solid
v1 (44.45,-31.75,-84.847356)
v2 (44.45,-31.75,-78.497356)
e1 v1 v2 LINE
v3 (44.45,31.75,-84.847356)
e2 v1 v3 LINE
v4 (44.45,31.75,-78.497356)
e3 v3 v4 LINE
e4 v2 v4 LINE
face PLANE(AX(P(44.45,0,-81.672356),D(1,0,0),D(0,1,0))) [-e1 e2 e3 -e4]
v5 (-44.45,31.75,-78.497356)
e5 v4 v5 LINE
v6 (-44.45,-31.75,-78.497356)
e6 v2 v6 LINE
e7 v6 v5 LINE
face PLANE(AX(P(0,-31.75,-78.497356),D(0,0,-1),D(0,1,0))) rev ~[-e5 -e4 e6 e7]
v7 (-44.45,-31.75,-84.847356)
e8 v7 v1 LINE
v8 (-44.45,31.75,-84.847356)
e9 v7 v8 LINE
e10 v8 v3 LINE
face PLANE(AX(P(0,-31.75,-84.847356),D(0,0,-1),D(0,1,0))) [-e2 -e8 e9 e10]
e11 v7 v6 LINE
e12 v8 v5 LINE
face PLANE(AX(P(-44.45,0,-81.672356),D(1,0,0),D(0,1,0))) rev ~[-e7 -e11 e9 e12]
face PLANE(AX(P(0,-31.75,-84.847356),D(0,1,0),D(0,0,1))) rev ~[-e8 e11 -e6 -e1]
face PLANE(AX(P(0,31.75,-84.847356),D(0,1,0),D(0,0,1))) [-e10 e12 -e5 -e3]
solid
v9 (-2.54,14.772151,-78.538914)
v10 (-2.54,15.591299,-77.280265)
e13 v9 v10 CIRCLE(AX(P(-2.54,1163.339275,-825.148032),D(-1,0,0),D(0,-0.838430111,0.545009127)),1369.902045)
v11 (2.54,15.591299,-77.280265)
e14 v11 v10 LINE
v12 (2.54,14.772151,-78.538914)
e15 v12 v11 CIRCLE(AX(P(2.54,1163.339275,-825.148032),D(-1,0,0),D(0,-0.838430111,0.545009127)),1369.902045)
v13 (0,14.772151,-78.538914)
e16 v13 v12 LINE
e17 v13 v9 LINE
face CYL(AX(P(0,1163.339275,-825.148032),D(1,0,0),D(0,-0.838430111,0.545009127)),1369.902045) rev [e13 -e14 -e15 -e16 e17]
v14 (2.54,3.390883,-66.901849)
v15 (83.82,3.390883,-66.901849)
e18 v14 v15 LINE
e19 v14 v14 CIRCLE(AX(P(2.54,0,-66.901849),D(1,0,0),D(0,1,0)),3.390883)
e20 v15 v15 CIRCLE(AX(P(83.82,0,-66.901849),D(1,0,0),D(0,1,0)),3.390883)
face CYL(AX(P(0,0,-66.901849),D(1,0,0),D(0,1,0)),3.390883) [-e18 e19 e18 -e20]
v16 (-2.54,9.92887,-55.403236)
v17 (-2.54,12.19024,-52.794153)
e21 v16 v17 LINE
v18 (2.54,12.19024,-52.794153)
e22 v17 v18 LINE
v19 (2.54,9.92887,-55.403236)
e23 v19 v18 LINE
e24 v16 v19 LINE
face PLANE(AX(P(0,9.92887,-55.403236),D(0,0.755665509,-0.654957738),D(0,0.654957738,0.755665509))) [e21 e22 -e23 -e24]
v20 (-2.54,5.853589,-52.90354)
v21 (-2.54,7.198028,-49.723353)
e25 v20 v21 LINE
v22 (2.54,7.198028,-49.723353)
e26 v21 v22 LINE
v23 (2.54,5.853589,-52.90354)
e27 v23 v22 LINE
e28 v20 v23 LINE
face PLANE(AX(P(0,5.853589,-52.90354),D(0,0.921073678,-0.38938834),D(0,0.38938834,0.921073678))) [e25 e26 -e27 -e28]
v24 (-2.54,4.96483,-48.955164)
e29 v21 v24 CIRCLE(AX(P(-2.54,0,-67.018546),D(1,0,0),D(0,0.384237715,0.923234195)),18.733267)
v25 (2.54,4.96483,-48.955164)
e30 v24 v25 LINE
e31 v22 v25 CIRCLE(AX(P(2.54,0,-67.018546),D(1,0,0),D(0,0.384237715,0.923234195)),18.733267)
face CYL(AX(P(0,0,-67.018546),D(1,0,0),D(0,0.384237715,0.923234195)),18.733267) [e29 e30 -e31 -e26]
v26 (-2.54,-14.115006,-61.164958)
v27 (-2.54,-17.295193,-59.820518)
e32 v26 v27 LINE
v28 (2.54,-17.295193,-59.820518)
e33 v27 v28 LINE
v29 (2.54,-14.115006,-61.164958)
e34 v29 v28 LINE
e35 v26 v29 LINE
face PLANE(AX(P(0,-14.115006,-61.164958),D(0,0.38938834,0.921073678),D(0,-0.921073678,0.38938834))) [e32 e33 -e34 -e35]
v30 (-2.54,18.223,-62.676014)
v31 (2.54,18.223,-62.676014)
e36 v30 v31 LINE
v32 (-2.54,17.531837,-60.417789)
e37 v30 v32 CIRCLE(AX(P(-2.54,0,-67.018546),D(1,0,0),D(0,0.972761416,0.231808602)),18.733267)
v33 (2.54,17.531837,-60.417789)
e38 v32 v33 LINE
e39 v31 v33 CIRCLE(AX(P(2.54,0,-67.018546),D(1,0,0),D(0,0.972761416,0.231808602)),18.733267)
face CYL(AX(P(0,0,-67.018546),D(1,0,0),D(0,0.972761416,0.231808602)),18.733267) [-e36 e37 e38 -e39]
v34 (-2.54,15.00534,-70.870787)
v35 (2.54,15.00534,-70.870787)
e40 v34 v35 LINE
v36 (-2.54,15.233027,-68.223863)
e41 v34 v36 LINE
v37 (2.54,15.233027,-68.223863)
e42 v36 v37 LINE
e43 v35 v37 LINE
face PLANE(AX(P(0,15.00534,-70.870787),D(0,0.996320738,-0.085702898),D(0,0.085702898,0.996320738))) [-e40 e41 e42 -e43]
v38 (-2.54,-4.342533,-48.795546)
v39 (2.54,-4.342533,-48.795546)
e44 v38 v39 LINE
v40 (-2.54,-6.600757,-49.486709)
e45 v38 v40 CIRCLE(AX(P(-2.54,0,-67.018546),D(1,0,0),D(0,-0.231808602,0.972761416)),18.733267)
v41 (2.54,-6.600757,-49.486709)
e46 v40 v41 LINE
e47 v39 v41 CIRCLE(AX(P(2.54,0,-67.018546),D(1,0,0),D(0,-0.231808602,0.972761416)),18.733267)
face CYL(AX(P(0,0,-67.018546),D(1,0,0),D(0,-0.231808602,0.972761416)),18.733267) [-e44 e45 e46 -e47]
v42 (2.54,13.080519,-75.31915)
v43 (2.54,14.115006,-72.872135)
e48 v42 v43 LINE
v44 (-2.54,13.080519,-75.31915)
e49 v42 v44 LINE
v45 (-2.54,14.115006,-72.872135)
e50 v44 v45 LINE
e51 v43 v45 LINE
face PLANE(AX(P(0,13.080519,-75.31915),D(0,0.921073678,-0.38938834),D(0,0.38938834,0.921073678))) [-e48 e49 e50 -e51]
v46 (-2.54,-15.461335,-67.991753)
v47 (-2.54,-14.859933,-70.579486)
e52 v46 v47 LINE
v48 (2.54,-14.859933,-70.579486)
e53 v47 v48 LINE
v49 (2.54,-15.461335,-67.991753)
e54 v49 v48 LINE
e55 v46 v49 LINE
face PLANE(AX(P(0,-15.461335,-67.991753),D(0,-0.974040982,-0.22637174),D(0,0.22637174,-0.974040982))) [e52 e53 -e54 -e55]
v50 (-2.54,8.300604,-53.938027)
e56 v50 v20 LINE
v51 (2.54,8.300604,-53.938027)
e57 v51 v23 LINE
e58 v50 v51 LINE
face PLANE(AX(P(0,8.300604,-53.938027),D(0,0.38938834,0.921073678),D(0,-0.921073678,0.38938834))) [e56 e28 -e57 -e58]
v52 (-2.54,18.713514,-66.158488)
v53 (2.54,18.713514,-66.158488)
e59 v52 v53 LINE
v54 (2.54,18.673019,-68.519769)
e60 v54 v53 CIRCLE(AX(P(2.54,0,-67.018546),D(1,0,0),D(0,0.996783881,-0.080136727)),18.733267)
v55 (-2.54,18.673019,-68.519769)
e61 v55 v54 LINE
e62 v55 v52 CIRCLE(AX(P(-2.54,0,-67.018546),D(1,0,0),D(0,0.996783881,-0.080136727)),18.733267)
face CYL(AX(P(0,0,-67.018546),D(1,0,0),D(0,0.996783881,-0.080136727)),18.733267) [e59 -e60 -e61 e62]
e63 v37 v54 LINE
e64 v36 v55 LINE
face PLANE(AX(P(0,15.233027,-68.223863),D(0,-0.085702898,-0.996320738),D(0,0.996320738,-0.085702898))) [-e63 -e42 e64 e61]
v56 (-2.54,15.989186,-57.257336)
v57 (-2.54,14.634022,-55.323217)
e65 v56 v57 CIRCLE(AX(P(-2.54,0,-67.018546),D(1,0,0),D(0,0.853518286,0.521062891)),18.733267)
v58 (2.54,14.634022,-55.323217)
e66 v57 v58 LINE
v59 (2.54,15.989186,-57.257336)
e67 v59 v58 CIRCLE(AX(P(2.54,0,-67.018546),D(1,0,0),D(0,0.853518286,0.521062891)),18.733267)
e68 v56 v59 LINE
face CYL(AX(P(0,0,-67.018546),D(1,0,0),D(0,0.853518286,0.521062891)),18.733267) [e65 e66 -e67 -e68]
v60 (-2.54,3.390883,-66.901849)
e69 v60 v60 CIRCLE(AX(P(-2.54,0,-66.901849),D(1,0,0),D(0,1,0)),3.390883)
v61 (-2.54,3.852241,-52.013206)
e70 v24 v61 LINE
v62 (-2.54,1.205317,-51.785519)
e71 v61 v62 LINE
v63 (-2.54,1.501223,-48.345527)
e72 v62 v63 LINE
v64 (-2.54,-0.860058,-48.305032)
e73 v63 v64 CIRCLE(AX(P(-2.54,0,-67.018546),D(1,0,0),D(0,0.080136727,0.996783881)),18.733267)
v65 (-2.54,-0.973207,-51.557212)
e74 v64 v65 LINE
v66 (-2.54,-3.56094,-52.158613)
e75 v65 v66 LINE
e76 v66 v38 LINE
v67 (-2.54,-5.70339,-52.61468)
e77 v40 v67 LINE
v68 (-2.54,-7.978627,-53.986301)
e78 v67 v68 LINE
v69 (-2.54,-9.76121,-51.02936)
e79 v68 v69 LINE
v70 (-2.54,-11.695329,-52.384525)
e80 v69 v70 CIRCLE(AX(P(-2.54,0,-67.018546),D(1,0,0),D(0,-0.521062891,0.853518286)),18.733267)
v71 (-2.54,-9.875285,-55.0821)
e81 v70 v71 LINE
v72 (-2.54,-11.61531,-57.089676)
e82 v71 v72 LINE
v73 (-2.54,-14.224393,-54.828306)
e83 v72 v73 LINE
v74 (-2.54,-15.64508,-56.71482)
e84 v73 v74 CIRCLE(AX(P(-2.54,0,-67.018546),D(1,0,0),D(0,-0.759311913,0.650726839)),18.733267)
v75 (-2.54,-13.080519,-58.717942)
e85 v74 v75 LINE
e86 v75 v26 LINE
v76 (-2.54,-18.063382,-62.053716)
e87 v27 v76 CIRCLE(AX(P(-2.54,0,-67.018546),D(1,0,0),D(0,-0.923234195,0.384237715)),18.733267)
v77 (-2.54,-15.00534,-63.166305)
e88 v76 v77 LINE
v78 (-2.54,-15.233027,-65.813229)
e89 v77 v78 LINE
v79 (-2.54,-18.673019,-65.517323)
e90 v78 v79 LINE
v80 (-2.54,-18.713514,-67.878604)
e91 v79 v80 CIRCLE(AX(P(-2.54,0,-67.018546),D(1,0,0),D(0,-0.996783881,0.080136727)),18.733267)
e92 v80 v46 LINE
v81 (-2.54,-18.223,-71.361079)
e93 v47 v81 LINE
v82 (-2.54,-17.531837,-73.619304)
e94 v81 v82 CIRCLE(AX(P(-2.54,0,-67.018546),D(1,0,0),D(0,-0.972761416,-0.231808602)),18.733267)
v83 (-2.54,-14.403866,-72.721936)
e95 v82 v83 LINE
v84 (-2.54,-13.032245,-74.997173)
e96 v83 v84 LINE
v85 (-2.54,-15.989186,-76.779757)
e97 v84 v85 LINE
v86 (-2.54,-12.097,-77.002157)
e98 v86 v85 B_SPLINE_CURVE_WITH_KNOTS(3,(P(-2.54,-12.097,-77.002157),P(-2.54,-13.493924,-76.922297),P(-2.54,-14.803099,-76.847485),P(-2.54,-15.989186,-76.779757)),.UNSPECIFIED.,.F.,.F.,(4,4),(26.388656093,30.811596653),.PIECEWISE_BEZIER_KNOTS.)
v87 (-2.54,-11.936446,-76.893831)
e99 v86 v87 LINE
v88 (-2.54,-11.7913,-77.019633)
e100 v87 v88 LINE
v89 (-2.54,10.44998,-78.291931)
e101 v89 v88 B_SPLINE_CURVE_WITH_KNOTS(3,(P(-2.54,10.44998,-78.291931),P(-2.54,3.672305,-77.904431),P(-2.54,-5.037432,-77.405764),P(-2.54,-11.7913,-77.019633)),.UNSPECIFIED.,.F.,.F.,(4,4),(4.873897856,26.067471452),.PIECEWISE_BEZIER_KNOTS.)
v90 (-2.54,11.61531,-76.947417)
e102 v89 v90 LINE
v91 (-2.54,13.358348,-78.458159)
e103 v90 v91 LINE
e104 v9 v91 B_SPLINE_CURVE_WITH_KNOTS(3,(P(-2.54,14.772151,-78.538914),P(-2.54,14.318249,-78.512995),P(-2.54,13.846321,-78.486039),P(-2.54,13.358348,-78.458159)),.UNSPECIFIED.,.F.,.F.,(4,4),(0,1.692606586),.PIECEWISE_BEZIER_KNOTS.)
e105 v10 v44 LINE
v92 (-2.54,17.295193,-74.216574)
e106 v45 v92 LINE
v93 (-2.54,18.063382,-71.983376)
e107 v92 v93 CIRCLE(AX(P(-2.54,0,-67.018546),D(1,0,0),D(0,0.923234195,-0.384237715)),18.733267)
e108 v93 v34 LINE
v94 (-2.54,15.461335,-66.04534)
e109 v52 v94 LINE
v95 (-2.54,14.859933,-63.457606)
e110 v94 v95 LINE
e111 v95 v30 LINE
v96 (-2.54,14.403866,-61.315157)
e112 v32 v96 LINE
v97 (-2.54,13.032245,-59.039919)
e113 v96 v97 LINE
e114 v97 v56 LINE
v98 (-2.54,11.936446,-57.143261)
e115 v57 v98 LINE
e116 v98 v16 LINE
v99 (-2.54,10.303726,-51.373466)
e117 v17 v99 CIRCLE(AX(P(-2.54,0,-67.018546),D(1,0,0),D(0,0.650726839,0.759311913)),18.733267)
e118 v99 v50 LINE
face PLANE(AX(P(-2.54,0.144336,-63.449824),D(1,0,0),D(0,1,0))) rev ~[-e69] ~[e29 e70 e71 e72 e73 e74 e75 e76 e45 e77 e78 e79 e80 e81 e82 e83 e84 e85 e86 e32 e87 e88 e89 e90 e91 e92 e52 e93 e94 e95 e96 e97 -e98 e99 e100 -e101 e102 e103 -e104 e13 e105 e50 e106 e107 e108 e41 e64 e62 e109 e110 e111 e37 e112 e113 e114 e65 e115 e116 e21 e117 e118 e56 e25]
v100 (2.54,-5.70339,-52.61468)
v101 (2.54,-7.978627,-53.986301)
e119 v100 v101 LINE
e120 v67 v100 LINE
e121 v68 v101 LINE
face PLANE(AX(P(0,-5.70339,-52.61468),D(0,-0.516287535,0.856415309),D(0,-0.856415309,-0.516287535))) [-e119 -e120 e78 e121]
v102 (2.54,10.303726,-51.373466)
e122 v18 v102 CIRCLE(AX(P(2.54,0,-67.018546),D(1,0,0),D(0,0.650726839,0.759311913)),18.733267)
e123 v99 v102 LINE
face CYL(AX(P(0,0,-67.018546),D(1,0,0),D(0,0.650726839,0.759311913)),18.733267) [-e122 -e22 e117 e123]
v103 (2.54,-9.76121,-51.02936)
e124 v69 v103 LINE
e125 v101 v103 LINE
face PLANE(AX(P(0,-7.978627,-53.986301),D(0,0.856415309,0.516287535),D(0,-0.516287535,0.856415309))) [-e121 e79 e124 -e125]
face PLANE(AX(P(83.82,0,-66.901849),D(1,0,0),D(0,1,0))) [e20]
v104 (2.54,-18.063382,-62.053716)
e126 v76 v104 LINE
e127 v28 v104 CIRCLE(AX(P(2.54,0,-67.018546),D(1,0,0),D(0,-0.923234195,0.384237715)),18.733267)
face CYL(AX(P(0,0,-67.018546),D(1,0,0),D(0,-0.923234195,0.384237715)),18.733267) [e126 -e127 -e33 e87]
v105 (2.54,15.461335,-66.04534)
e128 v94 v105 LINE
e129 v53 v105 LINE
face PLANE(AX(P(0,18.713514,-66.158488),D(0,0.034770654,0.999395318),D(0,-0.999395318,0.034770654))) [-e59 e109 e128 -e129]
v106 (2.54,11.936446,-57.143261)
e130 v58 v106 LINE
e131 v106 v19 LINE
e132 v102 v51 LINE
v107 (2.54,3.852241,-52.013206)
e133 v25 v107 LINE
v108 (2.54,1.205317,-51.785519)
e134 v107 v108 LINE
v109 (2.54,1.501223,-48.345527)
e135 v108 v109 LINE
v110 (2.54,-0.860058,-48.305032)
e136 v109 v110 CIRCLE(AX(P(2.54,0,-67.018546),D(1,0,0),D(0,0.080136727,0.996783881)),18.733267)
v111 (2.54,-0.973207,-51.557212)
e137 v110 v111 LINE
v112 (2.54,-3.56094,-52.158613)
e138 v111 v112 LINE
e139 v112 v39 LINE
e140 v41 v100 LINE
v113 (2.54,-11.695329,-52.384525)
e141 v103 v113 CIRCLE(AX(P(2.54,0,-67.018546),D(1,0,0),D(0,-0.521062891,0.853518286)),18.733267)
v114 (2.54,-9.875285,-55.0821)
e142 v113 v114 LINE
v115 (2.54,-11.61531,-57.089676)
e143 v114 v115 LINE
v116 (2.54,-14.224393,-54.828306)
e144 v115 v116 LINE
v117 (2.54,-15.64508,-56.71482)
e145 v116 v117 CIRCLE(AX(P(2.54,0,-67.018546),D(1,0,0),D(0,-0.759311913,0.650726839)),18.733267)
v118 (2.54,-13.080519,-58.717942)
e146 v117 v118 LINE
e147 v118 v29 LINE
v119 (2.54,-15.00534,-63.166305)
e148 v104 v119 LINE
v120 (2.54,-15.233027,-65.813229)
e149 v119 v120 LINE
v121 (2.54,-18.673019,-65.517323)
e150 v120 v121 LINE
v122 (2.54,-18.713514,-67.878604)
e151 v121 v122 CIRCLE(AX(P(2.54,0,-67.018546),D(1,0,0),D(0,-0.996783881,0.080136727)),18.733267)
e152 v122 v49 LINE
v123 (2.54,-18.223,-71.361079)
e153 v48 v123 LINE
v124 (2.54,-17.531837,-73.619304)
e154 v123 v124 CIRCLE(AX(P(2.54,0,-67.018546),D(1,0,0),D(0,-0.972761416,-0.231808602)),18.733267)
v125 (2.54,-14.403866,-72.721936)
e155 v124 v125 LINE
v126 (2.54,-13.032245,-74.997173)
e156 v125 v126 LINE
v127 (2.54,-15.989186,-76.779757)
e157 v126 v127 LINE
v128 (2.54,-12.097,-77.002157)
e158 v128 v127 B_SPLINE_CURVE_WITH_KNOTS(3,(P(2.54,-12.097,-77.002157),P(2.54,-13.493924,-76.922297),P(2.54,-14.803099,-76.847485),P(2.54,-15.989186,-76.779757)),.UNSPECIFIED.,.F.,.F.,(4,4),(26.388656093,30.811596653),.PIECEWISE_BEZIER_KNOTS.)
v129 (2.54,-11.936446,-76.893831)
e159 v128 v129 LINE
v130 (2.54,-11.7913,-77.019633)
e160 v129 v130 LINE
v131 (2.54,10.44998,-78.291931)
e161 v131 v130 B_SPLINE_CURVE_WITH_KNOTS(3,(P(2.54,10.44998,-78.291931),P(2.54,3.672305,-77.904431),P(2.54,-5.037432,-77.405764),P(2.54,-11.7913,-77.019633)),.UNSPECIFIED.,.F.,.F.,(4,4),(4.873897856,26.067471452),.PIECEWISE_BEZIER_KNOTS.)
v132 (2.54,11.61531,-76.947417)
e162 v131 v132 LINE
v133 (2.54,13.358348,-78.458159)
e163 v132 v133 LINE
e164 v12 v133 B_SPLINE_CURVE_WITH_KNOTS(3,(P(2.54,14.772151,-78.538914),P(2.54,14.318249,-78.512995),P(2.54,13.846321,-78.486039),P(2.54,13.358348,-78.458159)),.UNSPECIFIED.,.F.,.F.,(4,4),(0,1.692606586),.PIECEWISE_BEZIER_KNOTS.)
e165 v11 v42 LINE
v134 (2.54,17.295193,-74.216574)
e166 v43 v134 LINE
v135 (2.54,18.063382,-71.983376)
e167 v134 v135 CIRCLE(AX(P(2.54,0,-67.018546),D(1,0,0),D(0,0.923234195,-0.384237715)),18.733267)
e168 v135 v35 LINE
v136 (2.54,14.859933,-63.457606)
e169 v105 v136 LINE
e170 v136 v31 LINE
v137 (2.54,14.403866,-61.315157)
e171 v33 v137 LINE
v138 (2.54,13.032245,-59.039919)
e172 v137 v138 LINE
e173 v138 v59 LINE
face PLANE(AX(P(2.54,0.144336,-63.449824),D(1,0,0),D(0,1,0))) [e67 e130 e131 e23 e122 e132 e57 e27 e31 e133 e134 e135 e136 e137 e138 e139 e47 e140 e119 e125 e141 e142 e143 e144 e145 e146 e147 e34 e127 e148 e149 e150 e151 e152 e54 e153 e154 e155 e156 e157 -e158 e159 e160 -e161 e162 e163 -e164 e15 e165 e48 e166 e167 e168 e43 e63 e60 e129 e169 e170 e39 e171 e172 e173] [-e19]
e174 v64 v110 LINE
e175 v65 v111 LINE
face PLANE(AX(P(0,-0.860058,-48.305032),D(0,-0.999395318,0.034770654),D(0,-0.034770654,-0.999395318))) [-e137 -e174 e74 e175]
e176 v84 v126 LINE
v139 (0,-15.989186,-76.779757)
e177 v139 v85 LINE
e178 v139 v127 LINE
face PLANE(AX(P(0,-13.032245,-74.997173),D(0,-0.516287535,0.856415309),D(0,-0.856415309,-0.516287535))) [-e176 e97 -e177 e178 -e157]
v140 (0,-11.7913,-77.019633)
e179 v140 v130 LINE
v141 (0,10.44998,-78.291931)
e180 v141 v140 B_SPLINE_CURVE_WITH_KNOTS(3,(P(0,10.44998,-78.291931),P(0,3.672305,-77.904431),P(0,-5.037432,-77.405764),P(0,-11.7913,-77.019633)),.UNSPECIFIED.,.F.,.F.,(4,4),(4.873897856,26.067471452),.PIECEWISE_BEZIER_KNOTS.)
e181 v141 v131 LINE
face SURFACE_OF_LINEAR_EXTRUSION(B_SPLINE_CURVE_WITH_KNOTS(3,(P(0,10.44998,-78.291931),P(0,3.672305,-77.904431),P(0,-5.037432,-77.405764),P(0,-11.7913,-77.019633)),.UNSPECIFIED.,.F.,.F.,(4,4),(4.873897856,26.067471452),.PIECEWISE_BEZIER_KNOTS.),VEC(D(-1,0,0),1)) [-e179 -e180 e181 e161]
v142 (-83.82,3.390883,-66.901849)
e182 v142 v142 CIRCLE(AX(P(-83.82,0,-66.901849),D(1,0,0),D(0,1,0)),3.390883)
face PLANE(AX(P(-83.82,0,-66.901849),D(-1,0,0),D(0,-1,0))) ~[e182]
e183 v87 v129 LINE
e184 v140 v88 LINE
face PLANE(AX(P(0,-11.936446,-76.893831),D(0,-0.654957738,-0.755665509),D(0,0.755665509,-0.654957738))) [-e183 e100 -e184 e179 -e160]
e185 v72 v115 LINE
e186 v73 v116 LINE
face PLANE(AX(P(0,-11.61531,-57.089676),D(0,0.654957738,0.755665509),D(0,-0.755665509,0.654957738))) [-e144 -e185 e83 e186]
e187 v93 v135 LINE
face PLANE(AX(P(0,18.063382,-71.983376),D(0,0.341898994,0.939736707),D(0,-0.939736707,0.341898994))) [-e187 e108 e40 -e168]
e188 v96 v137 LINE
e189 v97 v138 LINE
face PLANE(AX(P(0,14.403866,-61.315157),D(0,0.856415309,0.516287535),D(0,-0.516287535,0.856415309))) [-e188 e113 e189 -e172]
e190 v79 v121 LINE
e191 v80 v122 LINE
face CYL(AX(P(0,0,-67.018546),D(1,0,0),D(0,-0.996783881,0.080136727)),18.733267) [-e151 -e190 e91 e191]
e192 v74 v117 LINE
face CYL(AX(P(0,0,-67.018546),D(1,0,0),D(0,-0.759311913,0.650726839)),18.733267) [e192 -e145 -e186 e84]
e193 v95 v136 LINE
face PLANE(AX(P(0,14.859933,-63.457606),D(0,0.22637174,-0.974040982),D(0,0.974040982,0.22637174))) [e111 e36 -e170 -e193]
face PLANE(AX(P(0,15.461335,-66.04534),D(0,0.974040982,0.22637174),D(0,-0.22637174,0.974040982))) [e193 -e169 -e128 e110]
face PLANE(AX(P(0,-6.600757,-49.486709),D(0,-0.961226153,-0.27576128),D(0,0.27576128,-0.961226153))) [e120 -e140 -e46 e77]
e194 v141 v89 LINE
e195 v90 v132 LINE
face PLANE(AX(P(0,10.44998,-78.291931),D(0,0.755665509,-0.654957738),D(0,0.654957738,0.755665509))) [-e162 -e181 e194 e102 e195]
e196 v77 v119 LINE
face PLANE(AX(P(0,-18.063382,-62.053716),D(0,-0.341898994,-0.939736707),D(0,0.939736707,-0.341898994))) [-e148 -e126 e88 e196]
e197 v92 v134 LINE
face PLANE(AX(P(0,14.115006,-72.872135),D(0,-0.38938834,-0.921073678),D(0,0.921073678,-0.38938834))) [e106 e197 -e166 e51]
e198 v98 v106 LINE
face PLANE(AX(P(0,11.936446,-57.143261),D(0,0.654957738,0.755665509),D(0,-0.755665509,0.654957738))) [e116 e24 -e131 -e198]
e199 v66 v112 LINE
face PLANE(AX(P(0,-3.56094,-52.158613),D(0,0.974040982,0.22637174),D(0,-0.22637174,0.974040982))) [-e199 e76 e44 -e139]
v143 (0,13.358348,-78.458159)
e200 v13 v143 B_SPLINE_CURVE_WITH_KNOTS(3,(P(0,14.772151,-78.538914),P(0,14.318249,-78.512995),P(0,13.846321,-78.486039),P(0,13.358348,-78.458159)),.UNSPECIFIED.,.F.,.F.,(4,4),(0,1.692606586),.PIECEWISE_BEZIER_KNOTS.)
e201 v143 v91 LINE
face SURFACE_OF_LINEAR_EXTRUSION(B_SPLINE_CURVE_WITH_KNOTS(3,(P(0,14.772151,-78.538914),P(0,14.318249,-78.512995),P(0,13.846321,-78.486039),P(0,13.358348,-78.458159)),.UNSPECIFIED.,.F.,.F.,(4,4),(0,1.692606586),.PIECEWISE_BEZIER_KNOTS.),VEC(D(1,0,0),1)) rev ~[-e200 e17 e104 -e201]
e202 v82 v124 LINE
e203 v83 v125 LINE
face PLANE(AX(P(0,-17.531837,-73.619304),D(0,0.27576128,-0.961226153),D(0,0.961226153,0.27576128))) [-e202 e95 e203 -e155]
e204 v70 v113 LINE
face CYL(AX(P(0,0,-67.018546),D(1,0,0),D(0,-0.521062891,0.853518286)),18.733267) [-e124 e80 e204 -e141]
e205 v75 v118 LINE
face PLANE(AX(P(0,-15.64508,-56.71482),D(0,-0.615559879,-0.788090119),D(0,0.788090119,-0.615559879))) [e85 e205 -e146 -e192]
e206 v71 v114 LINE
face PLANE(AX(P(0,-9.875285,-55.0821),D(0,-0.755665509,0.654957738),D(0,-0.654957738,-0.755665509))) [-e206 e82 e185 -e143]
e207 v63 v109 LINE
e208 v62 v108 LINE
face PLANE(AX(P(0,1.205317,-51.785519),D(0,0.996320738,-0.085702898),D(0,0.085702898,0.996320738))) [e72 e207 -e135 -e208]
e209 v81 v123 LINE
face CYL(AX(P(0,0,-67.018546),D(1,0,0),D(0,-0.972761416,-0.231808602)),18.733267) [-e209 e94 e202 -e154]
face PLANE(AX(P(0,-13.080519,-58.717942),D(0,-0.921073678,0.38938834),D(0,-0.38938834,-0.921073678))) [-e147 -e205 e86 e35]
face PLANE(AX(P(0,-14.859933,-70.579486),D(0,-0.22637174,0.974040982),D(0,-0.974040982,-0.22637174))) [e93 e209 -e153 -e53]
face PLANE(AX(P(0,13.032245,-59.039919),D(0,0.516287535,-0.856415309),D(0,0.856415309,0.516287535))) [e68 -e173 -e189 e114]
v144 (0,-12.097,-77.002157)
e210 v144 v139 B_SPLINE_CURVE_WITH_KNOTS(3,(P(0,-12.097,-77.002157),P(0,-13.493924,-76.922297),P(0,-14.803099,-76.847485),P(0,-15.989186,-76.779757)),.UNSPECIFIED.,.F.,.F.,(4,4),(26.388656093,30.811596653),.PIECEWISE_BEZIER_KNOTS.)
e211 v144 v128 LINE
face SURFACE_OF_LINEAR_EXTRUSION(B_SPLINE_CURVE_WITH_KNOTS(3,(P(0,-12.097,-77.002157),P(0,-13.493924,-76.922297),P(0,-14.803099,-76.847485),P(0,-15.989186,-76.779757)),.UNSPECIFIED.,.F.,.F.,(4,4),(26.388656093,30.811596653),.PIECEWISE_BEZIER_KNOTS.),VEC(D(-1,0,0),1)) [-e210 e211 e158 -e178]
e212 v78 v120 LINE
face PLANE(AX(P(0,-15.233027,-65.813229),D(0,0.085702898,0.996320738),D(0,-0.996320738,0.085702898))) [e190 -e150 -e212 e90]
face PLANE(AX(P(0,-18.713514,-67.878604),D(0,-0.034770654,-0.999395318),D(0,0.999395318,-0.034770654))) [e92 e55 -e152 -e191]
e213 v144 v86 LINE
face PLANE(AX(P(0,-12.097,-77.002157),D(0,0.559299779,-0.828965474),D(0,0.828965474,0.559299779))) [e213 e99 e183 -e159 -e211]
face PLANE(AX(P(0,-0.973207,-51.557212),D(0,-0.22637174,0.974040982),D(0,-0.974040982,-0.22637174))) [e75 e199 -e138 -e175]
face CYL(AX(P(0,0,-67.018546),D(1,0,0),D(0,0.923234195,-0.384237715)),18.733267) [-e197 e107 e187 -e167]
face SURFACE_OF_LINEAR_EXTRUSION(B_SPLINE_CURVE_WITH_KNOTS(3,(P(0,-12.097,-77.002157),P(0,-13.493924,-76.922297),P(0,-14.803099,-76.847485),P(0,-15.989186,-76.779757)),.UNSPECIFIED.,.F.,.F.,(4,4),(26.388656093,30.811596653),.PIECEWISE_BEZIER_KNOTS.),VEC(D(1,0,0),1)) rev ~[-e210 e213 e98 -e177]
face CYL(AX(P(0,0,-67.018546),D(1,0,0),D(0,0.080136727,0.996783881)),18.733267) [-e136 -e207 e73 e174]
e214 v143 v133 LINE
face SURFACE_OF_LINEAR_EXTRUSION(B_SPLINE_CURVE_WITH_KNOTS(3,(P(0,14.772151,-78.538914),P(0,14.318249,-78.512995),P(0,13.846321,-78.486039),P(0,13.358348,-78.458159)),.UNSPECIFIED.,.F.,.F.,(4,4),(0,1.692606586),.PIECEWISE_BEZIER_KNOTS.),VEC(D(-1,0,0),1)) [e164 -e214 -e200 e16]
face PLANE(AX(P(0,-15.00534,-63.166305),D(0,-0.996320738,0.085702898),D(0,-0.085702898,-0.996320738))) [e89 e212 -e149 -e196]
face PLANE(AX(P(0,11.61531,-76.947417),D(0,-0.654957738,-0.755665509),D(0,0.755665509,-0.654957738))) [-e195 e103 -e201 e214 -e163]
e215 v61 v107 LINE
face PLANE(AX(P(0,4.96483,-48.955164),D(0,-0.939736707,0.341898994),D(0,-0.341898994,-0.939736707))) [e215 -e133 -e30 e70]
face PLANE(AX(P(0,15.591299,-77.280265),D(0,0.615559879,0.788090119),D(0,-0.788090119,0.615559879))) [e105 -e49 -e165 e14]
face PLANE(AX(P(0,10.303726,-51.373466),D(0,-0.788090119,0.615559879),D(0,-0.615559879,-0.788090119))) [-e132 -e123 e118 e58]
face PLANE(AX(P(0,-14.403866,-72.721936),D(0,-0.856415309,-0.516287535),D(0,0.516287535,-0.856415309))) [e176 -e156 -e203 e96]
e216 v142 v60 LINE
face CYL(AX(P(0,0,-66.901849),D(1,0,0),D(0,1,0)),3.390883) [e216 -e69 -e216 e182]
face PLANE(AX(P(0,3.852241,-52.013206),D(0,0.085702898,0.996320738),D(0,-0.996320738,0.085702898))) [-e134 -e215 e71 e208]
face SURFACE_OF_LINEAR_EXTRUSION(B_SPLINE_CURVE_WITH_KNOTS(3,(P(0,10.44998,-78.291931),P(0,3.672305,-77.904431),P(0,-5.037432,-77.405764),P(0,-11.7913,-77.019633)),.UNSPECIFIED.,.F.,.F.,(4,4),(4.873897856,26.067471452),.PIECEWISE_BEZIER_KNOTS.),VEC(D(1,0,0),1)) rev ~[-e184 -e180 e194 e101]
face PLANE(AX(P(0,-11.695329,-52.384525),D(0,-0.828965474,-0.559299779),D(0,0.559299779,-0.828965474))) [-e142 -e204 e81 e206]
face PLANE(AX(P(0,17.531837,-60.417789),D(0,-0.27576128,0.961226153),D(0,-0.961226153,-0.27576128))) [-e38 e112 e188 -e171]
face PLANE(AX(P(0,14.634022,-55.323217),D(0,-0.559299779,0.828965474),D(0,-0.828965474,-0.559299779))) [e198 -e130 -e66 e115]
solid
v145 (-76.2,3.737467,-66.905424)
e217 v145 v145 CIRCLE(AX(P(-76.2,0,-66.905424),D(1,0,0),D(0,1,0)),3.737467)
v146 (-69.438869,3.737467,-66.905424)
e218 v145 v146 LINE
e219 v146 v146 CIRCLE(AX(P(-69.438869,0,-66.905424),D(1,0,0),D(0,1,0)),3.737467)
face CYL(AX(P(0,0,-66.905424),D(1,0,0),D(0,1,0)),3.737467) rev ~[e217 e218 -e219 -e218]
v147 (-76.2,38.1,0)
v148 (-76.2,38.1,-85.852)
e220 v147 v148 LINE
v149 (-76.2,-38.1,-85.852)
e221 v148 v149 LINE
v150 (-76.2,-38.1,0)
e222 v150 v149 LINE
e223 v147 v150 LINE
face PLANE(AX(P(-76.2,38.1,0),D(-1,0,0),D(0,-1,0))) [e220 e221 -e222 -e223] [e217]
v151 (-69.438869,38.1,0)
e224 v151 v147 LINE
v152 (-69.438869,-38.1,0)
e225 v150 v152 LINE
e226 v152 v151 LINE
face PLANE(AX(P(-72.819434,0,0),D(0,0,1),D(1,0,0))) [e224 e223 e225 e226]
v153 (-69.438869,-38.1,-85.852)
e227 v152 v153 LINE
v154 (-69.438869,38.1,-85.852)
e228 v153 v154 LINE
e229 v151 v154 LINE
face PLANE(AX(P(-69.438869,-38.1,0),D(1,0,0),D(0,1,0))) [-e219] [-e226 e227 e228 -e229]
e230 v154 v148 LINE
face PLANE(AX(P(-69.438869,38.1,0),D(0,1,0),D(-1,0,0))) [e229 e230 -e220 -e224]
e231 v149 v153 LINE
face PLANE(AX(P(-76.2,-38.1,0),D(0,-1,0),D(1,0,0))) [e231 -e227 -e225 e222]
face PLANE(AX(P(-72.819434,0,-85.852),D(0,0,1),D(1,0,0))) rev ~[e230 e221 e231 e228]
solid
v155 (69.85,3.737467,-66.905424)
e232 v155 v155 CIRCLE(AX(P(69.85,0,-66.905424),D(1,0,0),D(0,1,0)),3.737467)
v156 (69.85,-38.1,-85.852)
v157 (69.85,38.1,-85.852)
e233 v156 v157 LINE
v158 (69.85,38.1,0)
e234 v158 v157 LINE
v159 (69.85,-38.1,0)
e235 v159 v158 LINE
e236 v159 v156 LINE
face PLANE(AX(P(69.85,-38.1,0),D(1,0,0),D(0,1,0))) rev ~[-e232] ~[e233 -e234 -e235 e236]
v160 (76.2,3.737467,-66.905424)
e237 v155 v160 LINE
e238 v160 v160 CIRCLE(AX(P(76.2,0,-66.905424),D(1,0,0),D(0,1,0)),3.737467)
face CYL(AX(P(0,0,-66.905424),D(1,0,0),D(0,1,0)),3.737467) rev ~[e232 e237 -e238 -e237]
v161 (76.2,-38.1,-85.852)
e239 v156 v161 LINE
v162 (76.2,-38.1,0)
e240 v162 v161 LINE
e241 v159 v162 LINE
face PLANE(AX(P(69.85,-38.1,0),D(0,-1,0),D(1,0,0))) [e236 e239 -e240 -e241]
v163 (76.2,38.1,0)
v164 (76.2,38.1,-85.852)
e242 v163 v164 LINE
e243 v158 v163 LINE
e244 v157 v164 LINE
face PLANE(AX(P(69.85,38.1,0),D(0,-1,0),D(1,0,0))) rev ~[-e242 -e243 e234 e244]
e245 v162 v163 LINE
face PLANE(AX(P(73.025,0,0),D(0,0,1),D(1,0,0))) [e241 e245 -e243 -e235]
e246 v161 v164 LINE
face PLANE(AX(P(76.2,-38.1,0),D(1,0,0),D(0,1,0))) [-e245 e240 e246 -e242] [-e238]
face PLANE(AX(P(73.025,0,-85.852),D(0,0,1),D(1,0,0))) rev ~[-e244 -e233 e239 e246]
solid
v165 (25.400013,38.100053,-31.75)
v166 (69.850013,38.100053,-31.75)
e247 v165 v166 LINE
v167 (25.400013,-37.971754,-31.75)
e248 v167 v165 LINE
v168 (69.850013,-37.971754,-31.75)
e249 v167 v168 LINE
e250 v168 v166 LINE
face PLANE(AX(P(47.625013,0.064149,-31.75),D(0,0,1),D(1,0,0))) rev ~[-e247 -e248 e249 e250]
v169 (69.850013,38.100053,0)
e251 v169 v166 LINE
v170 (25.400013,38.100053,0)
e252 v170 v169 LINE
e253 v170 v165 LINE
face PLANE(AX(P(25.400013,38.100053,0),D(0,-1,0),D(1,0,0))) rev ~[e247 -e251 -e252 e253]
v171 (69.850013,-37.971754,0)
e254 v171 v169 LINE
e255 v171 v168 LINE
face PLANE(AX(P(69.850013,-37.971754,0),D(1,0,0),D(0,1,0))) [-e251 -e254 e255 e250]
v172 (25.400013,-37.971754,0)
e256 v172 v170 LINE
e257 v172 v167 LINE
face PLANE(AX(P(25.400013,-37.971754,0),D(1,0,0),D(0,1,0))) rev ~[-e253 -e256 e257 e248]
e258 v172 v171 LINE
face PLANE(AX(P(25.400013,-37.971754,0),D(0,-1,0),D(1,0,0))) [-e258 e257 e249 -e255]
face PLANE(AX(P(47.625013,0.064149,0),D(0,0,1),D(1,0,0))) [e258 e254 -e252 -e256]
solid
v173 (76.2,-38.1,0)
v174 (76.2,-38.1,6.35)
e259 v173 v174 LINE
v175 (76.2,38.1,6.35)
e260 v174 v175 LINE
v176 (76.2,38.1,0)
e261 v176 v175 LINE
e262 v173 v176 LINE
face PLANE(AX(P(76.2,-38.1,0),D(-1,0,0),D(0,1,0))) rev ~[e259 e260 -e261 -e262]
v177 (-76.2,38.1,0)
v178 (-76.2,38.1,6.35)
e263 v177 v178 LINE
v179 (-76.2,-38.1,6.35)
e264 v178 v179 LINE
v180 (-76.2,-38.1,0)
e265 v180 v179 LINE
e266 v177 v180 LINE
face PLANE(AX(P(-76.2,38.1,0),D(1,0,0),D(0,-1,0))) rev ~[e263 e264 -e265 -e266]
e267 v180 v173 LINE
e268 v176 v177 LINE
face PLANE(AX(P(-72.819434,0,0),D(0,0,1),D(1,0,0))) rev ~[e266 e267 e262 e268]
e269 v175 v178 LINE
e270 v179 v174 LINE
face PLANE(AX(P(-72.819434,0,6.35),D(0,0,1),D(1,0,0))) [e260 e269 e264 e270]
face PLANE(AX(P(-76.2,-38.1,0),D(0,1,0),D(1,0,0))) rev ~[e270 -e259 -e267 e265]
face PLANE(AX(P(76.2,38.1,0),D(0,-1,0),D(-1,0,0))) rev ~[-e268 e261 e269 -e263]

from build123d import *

# Parameters (mm, degrees)
F1_DEPTH  = 85.852
F0_W      = 6.35
F0_H      = 76.2
F2_DEPTH  = 6.35
F3_R      = 3.7374673342
F4_DEPTH  = 127
F5_W      = 44.45
F5_H      = 76.071806252
F6_DEPTH  = 31.75
F7_R      = 3.3908828081
F8_DEPTH  = 83.82
F10_W     = 63.5
F10_H     = 6.35
F11_DEPTH = 44.45
F13_DEPTH = 2.54


with BuildPart() as f1:
    # F0 (on Top) → F1 (new body)
    with BuildSketch(Plane.XY):
        Polygon((-69.4388685358, 38.1), (-69.85, 38.1), (-76.2, 38.1), (-76.2, -38.1), (-69.4388685358, -38.1), align=None)
    extrude(amount=-F1_DEPTH)


with BuildPart() as f1b:
    # F0 (on Top) → F1, piece 2 (new body)
    with BuildSketch(Plane.XY):
        with Locations((73.025, 0)):
            Rectangle(F0_W, F0_H)
    extrude(amount=-F1_DEPTH)


with BuildPart() as f2:
    # F0 (on Top) → F2 (new body)
    with BuildSketch(Plane.XY):
        Polygon((-69.4388685358, 38.1), (-69.85, 38.1), (-76.2, 38.1), (-76.2, -38.1), (-69.4388685358, -38.1), align=None)
        Polygon((-58.42, 38.1), (-69.4388685358, 38.1), (-69.4388685358, -38.1), (58.42, -38.1), (69.85, -38.1), (69.85, 38.1), (69.4388685358, 38.1), align=None)
        with Locations((73.025, 0)):
            Rectangle(F0_W, F0_H)
    extrude(amount=F2_DEPTH)


with BuildPart() as f4_tool:
    # F3 (on Right) → F4 (new body, symmetric)
    with BuildSketch(Plane.YZ):
        with Locations((0, -66.9054239988)):
            Circle(F3_R)
    extrude(amount=F4_DEPTH, both=True)


with BuildPart() as f1_1:
    add(f1.part)

    # F4: cut by f4_tool
    add(f4_tool.part, mode=Mode.SUBTRACT)


with BuildPart() as f1b_1:
    add(f1b.part)

    # F4: cut by f4_tool
    add(f4_tool.part, mode=Mode.SUBTRACT)


with BuildPart() as f6:
    # F5 (on Top) → F6 (new body)
    with BuildSketch(Plane.XY):
        with Locations((47.62501266, 0.0641494989)):
            Rectangle(F5_W, F5_H)
    extrude(amount=-F6_DEPTH)


with BuildPart() as f8:
    # F7 (on Right) → F8 (new body)
    with BuildSketch(Plane.YZ):
        with Locations((0, -66.9018488586)):
            Circle(F7_R)
    extrude(amount=F8_DEPTH)

    # F9: F8 across plane


with BuildPart() as f8_1:
    add(f8.part)
    add(f8.part.mirror(Plane.YZ))

    # F12 (on Right) → F13 (join, symmetric)
    with BuildSketch(Plane.YZ):
        with BuildLine():
            Line((14.1150064256, -72.8721348006), (17.2951930421, -74.2165740308))
            ThreePointArc((17.2951930421, -74.2165740308), (17.7145138023, -73.1120926095), (18.0633819527, -71.98337647))
            Line((18.0633819527, -71.98337647), (15.0053404351, -70.8707868344))
            Line((15.0053404351, -70.8707868344), (15.2330272054, -68.2238629194))
            Line((15.2330272054, -68.2238629194), (18.6730189801, -68.5197689002))
            ThreePointArc((18.6730189801, -68.5197689002), (18.7305131923, -67.3397674063), (18.7135140511, -66.1584883795))
            Line((18.7135140511, -66.1584883795), (15.4613346335, -66.0453395551))
            Line((15.4613346335, -66.0453395551), (14.8599331476, -63.4576062361))
            Line((14.8599331476, -63.4576062361), (18.2229997177, -62.6760136285))
            ThreePointArc((18.2229997177, -62.6760136285), (17.9130394479, -61.5359988299), (17.5318370095, -60.4177887374))
            Line((17.5318370095, -60.4177887374), (14.4038656726, -61.3151565194))
            Line((14.4038656726, -61.3151565194), (13.0322452981, -59.0399191636))
            Line((13.0322452981, -59.0399191636), (15.9891862759, -57.2573356977))
            ThreePointArc((15.9891862759, -57.2573356977), (15.3421125949, -56.2689001857), (14.63402161, -55.3232172224))
            Line((14.63402161, -55.3232172224), (11.9364459821, -57.143261))
            Line((11.9364459821, -57.143261), (9.9288704778, -55.4032356922))
            Line((9.9288704778, -55.4032356922), (12.1902398782, -52.7941530576))
            ThreePointArc((12.1902398782, -52.7941530576), (11.2693928663, -52.054051787), (10.303726214, -51.3734659904))
            Line((10.303726214, -51.3734659904), (8.3006037927, -53.9380271976))
            Line((8.3006037927, -53.9380271976), (5.8535886366, -52.9035397384))
            Line((5.8535886366, -52.9035397384), (7.1980278668, -49.7233531219))
            ThreePointArc((7.1980278668, -49.7233531219), (6.0935464454, -49.3040323618), (4.9648303059, -48.9551642114))
            Line((4.9648303059, -48.9551642114), (3.8522406703, -52.013205729))
            Line((3.8522406703, -52.013205729), (1.2053167553, -51.7855189586))
            Line((1.2053167553, -51.7855189586), (1.5012227362, -48.345527184))
            ThreePointArc((1.5012227362, -48.345527184), (0.3212212423, -48.2880329717), (-0.8600577845, -48.3050321129))
            Line((-0.8600577845, -48.3050321129), (-0.9732066089, -51.5572115305))
            Line((-0.9732066089, -51.5572115305), (-3.5609399279, -52.1586130164))
            Line((-3.5609399279, -52.1586130164), (-4.3425325355, -48.7955464463))
            ThreePointArc((-4.3425325355, -48.7955464463), (-5.4825473341, -49.1055067161), (-6.6007574266, -49.4867091545))
            Line((-6.6007574266, -49.4867091545), (-5.7033896446, -52.6146804914))
            Line((-5.7033896446, -52.6146804914), (-7.9786270005, -53.9863008659))
            Line((-7.9786270005, -53.9863008659), (-9.7612104664, -51.0293598881))
            ThreePointArc((-9.7612104664, -51.0293598881), (-10.7496459783, -51.6764335691), (-11.6953289416, -52.3845245541))
            Line((-11.6953289416, -52.3845245541), (-9.875285164, -55.082100182))
            Line((-9.875285164, -55.082100182), (-11.6153104718, -57.0896756863))
            Line((-11.6153104718, -57.0896756863), (-14.2243931064, -54.8283062859))
            ThreePointArc((-14.2243931064, -54.8283062859), (-14.964494377, -55.7491532978), (-15.6450801737, -56.71481995))
            Line((-15.6450801737, -56.71481995), (-13.0805189664, -58.7179423714))
            Line((-13.0805189664, -58.7179423714), (-14.1150064256, -61.1649575274))
            Line((-14.1150064256, -61.1649575274), (-17.2951930421, -59.8205182973))
            ThreePointArc((-17.2951930421, -59.8205182973), (-17.7145138023, -60.9249997186), (-18.0633819527, -62.0537158581))
            Line((-18.0633819527, -62.0537158581), (-15.0053404351, -63.1663054937))
            Line((-15.0053404351, -63.1663054937), (-15.2330272054, -65.8132294087))
            Line((-15.2330272054, -65.8132294087), (-18.6730189801, -65.5173234279))
            ThreePointArc((-18.6730189801, -65.5173234279), (-18.7305131923, -66.6973249217), (-18.7135140511, -67.8786039485))
            Line((-18.7135140511, -67.8786039485), (-15.4613346335, -67.991752773))
            Line((-15.4613346335, -67.991752773), (-14.8599331476, -70.5794860919))
            Line((-14.8599331476, -70.5794860919), (-18.2229997177, -71.3610786995))
            ThreePointArc((-18.2229997177, -71.3610786995), (-17.9130394479, -72.5010934982), (-17.5318370095, -73.6193035907))
            Line((-17.5318370095, -73.6193035907), (-14.4038656726, -72.7219358087))
            Line((-14.4038656726, -72.7219358087), (-13.0322452981, -74.9971731645))
            Line((-13.0322452981, -74.9971731645), (-15.9891862759, -76.7797566304))
            add(Edge.make_bspline(
                [(-12.0970000102, -77.002156506), (-13.4939239336, -76.9222965336), (-14.803098612, -76.8474854858), (-15.9891862759, -76.7797566304)],
                knots=[26.388656093, 26.388656093, 26.388656093, 26.388656093, 30.8115966534, 30.8115966534, 30.8115966534, 30.8115966534], degree=3))
            Line((-12.0970000102, -77.002156506), (-11.9364459821, -76.8938313281))
            Line((-11.9364459821, -76.8938313281), (-11.7913003112, -77.0196333914))
            add(Edge.make_bspline(
                [(10.4499796414, -78.2919313561), (3.6723046356, -77.9044311531), (-5.0374319065, -77.4057638079), (-11.7913003112, -77.0196333914)],
                knots=[4.8738978558, 4.8738978558, 4.8738978558, 4.8738978558, 26.0674714523, 26.0674714523, 26.0674714523, 26.0674714523], degree=3))
            Line((10.4499796414, -78.2919313561), (11.6153104718, -76.9474166418))
            Line((11.6153104718, -76.9474166418), (13.3583480911, -78.4581591088))
            add(Edge.make_bspline(
                [(14.7721507303, -78.5389137943), (14.3182491315, -78.5129947693), (13.8463214198, -78.4860385562), (13.3583480911, -78.4581591088)],
                knots=[0, 0, 0, 0, 1.6926065863, 1.6926065863, 1.6926065863, 1.6926065863], degree=3))
            ThreePointArc((14.7721507303, -78.5389137943), (15.1815522293, -77.909477064), (15.5912986716, -77.2802648281))
            Line((15.5912986715, -77.2802648282), (13.0805189664, -75.3191499567))
            Line((13.0805189664, -75.3191499567), (14.1150064256, -72.8721348006))
        make_face()
    extrude(amount=F13_DEPTH, both=True)


with BuildPart() as f11:
    # F10 (on Right) → F11 (new body, symmetric)
    with BuildSketch(Plane.YZ):
        with Locations((0, -81.6723555326)):
            Rectangle(F10_W, F10_H)
    extrude(amount=F11_DEPTH, both=True)


solid = Compound([f2.part, f1_1.part, f1b_1.part, f6.part, f8_1.part, f11.part])
